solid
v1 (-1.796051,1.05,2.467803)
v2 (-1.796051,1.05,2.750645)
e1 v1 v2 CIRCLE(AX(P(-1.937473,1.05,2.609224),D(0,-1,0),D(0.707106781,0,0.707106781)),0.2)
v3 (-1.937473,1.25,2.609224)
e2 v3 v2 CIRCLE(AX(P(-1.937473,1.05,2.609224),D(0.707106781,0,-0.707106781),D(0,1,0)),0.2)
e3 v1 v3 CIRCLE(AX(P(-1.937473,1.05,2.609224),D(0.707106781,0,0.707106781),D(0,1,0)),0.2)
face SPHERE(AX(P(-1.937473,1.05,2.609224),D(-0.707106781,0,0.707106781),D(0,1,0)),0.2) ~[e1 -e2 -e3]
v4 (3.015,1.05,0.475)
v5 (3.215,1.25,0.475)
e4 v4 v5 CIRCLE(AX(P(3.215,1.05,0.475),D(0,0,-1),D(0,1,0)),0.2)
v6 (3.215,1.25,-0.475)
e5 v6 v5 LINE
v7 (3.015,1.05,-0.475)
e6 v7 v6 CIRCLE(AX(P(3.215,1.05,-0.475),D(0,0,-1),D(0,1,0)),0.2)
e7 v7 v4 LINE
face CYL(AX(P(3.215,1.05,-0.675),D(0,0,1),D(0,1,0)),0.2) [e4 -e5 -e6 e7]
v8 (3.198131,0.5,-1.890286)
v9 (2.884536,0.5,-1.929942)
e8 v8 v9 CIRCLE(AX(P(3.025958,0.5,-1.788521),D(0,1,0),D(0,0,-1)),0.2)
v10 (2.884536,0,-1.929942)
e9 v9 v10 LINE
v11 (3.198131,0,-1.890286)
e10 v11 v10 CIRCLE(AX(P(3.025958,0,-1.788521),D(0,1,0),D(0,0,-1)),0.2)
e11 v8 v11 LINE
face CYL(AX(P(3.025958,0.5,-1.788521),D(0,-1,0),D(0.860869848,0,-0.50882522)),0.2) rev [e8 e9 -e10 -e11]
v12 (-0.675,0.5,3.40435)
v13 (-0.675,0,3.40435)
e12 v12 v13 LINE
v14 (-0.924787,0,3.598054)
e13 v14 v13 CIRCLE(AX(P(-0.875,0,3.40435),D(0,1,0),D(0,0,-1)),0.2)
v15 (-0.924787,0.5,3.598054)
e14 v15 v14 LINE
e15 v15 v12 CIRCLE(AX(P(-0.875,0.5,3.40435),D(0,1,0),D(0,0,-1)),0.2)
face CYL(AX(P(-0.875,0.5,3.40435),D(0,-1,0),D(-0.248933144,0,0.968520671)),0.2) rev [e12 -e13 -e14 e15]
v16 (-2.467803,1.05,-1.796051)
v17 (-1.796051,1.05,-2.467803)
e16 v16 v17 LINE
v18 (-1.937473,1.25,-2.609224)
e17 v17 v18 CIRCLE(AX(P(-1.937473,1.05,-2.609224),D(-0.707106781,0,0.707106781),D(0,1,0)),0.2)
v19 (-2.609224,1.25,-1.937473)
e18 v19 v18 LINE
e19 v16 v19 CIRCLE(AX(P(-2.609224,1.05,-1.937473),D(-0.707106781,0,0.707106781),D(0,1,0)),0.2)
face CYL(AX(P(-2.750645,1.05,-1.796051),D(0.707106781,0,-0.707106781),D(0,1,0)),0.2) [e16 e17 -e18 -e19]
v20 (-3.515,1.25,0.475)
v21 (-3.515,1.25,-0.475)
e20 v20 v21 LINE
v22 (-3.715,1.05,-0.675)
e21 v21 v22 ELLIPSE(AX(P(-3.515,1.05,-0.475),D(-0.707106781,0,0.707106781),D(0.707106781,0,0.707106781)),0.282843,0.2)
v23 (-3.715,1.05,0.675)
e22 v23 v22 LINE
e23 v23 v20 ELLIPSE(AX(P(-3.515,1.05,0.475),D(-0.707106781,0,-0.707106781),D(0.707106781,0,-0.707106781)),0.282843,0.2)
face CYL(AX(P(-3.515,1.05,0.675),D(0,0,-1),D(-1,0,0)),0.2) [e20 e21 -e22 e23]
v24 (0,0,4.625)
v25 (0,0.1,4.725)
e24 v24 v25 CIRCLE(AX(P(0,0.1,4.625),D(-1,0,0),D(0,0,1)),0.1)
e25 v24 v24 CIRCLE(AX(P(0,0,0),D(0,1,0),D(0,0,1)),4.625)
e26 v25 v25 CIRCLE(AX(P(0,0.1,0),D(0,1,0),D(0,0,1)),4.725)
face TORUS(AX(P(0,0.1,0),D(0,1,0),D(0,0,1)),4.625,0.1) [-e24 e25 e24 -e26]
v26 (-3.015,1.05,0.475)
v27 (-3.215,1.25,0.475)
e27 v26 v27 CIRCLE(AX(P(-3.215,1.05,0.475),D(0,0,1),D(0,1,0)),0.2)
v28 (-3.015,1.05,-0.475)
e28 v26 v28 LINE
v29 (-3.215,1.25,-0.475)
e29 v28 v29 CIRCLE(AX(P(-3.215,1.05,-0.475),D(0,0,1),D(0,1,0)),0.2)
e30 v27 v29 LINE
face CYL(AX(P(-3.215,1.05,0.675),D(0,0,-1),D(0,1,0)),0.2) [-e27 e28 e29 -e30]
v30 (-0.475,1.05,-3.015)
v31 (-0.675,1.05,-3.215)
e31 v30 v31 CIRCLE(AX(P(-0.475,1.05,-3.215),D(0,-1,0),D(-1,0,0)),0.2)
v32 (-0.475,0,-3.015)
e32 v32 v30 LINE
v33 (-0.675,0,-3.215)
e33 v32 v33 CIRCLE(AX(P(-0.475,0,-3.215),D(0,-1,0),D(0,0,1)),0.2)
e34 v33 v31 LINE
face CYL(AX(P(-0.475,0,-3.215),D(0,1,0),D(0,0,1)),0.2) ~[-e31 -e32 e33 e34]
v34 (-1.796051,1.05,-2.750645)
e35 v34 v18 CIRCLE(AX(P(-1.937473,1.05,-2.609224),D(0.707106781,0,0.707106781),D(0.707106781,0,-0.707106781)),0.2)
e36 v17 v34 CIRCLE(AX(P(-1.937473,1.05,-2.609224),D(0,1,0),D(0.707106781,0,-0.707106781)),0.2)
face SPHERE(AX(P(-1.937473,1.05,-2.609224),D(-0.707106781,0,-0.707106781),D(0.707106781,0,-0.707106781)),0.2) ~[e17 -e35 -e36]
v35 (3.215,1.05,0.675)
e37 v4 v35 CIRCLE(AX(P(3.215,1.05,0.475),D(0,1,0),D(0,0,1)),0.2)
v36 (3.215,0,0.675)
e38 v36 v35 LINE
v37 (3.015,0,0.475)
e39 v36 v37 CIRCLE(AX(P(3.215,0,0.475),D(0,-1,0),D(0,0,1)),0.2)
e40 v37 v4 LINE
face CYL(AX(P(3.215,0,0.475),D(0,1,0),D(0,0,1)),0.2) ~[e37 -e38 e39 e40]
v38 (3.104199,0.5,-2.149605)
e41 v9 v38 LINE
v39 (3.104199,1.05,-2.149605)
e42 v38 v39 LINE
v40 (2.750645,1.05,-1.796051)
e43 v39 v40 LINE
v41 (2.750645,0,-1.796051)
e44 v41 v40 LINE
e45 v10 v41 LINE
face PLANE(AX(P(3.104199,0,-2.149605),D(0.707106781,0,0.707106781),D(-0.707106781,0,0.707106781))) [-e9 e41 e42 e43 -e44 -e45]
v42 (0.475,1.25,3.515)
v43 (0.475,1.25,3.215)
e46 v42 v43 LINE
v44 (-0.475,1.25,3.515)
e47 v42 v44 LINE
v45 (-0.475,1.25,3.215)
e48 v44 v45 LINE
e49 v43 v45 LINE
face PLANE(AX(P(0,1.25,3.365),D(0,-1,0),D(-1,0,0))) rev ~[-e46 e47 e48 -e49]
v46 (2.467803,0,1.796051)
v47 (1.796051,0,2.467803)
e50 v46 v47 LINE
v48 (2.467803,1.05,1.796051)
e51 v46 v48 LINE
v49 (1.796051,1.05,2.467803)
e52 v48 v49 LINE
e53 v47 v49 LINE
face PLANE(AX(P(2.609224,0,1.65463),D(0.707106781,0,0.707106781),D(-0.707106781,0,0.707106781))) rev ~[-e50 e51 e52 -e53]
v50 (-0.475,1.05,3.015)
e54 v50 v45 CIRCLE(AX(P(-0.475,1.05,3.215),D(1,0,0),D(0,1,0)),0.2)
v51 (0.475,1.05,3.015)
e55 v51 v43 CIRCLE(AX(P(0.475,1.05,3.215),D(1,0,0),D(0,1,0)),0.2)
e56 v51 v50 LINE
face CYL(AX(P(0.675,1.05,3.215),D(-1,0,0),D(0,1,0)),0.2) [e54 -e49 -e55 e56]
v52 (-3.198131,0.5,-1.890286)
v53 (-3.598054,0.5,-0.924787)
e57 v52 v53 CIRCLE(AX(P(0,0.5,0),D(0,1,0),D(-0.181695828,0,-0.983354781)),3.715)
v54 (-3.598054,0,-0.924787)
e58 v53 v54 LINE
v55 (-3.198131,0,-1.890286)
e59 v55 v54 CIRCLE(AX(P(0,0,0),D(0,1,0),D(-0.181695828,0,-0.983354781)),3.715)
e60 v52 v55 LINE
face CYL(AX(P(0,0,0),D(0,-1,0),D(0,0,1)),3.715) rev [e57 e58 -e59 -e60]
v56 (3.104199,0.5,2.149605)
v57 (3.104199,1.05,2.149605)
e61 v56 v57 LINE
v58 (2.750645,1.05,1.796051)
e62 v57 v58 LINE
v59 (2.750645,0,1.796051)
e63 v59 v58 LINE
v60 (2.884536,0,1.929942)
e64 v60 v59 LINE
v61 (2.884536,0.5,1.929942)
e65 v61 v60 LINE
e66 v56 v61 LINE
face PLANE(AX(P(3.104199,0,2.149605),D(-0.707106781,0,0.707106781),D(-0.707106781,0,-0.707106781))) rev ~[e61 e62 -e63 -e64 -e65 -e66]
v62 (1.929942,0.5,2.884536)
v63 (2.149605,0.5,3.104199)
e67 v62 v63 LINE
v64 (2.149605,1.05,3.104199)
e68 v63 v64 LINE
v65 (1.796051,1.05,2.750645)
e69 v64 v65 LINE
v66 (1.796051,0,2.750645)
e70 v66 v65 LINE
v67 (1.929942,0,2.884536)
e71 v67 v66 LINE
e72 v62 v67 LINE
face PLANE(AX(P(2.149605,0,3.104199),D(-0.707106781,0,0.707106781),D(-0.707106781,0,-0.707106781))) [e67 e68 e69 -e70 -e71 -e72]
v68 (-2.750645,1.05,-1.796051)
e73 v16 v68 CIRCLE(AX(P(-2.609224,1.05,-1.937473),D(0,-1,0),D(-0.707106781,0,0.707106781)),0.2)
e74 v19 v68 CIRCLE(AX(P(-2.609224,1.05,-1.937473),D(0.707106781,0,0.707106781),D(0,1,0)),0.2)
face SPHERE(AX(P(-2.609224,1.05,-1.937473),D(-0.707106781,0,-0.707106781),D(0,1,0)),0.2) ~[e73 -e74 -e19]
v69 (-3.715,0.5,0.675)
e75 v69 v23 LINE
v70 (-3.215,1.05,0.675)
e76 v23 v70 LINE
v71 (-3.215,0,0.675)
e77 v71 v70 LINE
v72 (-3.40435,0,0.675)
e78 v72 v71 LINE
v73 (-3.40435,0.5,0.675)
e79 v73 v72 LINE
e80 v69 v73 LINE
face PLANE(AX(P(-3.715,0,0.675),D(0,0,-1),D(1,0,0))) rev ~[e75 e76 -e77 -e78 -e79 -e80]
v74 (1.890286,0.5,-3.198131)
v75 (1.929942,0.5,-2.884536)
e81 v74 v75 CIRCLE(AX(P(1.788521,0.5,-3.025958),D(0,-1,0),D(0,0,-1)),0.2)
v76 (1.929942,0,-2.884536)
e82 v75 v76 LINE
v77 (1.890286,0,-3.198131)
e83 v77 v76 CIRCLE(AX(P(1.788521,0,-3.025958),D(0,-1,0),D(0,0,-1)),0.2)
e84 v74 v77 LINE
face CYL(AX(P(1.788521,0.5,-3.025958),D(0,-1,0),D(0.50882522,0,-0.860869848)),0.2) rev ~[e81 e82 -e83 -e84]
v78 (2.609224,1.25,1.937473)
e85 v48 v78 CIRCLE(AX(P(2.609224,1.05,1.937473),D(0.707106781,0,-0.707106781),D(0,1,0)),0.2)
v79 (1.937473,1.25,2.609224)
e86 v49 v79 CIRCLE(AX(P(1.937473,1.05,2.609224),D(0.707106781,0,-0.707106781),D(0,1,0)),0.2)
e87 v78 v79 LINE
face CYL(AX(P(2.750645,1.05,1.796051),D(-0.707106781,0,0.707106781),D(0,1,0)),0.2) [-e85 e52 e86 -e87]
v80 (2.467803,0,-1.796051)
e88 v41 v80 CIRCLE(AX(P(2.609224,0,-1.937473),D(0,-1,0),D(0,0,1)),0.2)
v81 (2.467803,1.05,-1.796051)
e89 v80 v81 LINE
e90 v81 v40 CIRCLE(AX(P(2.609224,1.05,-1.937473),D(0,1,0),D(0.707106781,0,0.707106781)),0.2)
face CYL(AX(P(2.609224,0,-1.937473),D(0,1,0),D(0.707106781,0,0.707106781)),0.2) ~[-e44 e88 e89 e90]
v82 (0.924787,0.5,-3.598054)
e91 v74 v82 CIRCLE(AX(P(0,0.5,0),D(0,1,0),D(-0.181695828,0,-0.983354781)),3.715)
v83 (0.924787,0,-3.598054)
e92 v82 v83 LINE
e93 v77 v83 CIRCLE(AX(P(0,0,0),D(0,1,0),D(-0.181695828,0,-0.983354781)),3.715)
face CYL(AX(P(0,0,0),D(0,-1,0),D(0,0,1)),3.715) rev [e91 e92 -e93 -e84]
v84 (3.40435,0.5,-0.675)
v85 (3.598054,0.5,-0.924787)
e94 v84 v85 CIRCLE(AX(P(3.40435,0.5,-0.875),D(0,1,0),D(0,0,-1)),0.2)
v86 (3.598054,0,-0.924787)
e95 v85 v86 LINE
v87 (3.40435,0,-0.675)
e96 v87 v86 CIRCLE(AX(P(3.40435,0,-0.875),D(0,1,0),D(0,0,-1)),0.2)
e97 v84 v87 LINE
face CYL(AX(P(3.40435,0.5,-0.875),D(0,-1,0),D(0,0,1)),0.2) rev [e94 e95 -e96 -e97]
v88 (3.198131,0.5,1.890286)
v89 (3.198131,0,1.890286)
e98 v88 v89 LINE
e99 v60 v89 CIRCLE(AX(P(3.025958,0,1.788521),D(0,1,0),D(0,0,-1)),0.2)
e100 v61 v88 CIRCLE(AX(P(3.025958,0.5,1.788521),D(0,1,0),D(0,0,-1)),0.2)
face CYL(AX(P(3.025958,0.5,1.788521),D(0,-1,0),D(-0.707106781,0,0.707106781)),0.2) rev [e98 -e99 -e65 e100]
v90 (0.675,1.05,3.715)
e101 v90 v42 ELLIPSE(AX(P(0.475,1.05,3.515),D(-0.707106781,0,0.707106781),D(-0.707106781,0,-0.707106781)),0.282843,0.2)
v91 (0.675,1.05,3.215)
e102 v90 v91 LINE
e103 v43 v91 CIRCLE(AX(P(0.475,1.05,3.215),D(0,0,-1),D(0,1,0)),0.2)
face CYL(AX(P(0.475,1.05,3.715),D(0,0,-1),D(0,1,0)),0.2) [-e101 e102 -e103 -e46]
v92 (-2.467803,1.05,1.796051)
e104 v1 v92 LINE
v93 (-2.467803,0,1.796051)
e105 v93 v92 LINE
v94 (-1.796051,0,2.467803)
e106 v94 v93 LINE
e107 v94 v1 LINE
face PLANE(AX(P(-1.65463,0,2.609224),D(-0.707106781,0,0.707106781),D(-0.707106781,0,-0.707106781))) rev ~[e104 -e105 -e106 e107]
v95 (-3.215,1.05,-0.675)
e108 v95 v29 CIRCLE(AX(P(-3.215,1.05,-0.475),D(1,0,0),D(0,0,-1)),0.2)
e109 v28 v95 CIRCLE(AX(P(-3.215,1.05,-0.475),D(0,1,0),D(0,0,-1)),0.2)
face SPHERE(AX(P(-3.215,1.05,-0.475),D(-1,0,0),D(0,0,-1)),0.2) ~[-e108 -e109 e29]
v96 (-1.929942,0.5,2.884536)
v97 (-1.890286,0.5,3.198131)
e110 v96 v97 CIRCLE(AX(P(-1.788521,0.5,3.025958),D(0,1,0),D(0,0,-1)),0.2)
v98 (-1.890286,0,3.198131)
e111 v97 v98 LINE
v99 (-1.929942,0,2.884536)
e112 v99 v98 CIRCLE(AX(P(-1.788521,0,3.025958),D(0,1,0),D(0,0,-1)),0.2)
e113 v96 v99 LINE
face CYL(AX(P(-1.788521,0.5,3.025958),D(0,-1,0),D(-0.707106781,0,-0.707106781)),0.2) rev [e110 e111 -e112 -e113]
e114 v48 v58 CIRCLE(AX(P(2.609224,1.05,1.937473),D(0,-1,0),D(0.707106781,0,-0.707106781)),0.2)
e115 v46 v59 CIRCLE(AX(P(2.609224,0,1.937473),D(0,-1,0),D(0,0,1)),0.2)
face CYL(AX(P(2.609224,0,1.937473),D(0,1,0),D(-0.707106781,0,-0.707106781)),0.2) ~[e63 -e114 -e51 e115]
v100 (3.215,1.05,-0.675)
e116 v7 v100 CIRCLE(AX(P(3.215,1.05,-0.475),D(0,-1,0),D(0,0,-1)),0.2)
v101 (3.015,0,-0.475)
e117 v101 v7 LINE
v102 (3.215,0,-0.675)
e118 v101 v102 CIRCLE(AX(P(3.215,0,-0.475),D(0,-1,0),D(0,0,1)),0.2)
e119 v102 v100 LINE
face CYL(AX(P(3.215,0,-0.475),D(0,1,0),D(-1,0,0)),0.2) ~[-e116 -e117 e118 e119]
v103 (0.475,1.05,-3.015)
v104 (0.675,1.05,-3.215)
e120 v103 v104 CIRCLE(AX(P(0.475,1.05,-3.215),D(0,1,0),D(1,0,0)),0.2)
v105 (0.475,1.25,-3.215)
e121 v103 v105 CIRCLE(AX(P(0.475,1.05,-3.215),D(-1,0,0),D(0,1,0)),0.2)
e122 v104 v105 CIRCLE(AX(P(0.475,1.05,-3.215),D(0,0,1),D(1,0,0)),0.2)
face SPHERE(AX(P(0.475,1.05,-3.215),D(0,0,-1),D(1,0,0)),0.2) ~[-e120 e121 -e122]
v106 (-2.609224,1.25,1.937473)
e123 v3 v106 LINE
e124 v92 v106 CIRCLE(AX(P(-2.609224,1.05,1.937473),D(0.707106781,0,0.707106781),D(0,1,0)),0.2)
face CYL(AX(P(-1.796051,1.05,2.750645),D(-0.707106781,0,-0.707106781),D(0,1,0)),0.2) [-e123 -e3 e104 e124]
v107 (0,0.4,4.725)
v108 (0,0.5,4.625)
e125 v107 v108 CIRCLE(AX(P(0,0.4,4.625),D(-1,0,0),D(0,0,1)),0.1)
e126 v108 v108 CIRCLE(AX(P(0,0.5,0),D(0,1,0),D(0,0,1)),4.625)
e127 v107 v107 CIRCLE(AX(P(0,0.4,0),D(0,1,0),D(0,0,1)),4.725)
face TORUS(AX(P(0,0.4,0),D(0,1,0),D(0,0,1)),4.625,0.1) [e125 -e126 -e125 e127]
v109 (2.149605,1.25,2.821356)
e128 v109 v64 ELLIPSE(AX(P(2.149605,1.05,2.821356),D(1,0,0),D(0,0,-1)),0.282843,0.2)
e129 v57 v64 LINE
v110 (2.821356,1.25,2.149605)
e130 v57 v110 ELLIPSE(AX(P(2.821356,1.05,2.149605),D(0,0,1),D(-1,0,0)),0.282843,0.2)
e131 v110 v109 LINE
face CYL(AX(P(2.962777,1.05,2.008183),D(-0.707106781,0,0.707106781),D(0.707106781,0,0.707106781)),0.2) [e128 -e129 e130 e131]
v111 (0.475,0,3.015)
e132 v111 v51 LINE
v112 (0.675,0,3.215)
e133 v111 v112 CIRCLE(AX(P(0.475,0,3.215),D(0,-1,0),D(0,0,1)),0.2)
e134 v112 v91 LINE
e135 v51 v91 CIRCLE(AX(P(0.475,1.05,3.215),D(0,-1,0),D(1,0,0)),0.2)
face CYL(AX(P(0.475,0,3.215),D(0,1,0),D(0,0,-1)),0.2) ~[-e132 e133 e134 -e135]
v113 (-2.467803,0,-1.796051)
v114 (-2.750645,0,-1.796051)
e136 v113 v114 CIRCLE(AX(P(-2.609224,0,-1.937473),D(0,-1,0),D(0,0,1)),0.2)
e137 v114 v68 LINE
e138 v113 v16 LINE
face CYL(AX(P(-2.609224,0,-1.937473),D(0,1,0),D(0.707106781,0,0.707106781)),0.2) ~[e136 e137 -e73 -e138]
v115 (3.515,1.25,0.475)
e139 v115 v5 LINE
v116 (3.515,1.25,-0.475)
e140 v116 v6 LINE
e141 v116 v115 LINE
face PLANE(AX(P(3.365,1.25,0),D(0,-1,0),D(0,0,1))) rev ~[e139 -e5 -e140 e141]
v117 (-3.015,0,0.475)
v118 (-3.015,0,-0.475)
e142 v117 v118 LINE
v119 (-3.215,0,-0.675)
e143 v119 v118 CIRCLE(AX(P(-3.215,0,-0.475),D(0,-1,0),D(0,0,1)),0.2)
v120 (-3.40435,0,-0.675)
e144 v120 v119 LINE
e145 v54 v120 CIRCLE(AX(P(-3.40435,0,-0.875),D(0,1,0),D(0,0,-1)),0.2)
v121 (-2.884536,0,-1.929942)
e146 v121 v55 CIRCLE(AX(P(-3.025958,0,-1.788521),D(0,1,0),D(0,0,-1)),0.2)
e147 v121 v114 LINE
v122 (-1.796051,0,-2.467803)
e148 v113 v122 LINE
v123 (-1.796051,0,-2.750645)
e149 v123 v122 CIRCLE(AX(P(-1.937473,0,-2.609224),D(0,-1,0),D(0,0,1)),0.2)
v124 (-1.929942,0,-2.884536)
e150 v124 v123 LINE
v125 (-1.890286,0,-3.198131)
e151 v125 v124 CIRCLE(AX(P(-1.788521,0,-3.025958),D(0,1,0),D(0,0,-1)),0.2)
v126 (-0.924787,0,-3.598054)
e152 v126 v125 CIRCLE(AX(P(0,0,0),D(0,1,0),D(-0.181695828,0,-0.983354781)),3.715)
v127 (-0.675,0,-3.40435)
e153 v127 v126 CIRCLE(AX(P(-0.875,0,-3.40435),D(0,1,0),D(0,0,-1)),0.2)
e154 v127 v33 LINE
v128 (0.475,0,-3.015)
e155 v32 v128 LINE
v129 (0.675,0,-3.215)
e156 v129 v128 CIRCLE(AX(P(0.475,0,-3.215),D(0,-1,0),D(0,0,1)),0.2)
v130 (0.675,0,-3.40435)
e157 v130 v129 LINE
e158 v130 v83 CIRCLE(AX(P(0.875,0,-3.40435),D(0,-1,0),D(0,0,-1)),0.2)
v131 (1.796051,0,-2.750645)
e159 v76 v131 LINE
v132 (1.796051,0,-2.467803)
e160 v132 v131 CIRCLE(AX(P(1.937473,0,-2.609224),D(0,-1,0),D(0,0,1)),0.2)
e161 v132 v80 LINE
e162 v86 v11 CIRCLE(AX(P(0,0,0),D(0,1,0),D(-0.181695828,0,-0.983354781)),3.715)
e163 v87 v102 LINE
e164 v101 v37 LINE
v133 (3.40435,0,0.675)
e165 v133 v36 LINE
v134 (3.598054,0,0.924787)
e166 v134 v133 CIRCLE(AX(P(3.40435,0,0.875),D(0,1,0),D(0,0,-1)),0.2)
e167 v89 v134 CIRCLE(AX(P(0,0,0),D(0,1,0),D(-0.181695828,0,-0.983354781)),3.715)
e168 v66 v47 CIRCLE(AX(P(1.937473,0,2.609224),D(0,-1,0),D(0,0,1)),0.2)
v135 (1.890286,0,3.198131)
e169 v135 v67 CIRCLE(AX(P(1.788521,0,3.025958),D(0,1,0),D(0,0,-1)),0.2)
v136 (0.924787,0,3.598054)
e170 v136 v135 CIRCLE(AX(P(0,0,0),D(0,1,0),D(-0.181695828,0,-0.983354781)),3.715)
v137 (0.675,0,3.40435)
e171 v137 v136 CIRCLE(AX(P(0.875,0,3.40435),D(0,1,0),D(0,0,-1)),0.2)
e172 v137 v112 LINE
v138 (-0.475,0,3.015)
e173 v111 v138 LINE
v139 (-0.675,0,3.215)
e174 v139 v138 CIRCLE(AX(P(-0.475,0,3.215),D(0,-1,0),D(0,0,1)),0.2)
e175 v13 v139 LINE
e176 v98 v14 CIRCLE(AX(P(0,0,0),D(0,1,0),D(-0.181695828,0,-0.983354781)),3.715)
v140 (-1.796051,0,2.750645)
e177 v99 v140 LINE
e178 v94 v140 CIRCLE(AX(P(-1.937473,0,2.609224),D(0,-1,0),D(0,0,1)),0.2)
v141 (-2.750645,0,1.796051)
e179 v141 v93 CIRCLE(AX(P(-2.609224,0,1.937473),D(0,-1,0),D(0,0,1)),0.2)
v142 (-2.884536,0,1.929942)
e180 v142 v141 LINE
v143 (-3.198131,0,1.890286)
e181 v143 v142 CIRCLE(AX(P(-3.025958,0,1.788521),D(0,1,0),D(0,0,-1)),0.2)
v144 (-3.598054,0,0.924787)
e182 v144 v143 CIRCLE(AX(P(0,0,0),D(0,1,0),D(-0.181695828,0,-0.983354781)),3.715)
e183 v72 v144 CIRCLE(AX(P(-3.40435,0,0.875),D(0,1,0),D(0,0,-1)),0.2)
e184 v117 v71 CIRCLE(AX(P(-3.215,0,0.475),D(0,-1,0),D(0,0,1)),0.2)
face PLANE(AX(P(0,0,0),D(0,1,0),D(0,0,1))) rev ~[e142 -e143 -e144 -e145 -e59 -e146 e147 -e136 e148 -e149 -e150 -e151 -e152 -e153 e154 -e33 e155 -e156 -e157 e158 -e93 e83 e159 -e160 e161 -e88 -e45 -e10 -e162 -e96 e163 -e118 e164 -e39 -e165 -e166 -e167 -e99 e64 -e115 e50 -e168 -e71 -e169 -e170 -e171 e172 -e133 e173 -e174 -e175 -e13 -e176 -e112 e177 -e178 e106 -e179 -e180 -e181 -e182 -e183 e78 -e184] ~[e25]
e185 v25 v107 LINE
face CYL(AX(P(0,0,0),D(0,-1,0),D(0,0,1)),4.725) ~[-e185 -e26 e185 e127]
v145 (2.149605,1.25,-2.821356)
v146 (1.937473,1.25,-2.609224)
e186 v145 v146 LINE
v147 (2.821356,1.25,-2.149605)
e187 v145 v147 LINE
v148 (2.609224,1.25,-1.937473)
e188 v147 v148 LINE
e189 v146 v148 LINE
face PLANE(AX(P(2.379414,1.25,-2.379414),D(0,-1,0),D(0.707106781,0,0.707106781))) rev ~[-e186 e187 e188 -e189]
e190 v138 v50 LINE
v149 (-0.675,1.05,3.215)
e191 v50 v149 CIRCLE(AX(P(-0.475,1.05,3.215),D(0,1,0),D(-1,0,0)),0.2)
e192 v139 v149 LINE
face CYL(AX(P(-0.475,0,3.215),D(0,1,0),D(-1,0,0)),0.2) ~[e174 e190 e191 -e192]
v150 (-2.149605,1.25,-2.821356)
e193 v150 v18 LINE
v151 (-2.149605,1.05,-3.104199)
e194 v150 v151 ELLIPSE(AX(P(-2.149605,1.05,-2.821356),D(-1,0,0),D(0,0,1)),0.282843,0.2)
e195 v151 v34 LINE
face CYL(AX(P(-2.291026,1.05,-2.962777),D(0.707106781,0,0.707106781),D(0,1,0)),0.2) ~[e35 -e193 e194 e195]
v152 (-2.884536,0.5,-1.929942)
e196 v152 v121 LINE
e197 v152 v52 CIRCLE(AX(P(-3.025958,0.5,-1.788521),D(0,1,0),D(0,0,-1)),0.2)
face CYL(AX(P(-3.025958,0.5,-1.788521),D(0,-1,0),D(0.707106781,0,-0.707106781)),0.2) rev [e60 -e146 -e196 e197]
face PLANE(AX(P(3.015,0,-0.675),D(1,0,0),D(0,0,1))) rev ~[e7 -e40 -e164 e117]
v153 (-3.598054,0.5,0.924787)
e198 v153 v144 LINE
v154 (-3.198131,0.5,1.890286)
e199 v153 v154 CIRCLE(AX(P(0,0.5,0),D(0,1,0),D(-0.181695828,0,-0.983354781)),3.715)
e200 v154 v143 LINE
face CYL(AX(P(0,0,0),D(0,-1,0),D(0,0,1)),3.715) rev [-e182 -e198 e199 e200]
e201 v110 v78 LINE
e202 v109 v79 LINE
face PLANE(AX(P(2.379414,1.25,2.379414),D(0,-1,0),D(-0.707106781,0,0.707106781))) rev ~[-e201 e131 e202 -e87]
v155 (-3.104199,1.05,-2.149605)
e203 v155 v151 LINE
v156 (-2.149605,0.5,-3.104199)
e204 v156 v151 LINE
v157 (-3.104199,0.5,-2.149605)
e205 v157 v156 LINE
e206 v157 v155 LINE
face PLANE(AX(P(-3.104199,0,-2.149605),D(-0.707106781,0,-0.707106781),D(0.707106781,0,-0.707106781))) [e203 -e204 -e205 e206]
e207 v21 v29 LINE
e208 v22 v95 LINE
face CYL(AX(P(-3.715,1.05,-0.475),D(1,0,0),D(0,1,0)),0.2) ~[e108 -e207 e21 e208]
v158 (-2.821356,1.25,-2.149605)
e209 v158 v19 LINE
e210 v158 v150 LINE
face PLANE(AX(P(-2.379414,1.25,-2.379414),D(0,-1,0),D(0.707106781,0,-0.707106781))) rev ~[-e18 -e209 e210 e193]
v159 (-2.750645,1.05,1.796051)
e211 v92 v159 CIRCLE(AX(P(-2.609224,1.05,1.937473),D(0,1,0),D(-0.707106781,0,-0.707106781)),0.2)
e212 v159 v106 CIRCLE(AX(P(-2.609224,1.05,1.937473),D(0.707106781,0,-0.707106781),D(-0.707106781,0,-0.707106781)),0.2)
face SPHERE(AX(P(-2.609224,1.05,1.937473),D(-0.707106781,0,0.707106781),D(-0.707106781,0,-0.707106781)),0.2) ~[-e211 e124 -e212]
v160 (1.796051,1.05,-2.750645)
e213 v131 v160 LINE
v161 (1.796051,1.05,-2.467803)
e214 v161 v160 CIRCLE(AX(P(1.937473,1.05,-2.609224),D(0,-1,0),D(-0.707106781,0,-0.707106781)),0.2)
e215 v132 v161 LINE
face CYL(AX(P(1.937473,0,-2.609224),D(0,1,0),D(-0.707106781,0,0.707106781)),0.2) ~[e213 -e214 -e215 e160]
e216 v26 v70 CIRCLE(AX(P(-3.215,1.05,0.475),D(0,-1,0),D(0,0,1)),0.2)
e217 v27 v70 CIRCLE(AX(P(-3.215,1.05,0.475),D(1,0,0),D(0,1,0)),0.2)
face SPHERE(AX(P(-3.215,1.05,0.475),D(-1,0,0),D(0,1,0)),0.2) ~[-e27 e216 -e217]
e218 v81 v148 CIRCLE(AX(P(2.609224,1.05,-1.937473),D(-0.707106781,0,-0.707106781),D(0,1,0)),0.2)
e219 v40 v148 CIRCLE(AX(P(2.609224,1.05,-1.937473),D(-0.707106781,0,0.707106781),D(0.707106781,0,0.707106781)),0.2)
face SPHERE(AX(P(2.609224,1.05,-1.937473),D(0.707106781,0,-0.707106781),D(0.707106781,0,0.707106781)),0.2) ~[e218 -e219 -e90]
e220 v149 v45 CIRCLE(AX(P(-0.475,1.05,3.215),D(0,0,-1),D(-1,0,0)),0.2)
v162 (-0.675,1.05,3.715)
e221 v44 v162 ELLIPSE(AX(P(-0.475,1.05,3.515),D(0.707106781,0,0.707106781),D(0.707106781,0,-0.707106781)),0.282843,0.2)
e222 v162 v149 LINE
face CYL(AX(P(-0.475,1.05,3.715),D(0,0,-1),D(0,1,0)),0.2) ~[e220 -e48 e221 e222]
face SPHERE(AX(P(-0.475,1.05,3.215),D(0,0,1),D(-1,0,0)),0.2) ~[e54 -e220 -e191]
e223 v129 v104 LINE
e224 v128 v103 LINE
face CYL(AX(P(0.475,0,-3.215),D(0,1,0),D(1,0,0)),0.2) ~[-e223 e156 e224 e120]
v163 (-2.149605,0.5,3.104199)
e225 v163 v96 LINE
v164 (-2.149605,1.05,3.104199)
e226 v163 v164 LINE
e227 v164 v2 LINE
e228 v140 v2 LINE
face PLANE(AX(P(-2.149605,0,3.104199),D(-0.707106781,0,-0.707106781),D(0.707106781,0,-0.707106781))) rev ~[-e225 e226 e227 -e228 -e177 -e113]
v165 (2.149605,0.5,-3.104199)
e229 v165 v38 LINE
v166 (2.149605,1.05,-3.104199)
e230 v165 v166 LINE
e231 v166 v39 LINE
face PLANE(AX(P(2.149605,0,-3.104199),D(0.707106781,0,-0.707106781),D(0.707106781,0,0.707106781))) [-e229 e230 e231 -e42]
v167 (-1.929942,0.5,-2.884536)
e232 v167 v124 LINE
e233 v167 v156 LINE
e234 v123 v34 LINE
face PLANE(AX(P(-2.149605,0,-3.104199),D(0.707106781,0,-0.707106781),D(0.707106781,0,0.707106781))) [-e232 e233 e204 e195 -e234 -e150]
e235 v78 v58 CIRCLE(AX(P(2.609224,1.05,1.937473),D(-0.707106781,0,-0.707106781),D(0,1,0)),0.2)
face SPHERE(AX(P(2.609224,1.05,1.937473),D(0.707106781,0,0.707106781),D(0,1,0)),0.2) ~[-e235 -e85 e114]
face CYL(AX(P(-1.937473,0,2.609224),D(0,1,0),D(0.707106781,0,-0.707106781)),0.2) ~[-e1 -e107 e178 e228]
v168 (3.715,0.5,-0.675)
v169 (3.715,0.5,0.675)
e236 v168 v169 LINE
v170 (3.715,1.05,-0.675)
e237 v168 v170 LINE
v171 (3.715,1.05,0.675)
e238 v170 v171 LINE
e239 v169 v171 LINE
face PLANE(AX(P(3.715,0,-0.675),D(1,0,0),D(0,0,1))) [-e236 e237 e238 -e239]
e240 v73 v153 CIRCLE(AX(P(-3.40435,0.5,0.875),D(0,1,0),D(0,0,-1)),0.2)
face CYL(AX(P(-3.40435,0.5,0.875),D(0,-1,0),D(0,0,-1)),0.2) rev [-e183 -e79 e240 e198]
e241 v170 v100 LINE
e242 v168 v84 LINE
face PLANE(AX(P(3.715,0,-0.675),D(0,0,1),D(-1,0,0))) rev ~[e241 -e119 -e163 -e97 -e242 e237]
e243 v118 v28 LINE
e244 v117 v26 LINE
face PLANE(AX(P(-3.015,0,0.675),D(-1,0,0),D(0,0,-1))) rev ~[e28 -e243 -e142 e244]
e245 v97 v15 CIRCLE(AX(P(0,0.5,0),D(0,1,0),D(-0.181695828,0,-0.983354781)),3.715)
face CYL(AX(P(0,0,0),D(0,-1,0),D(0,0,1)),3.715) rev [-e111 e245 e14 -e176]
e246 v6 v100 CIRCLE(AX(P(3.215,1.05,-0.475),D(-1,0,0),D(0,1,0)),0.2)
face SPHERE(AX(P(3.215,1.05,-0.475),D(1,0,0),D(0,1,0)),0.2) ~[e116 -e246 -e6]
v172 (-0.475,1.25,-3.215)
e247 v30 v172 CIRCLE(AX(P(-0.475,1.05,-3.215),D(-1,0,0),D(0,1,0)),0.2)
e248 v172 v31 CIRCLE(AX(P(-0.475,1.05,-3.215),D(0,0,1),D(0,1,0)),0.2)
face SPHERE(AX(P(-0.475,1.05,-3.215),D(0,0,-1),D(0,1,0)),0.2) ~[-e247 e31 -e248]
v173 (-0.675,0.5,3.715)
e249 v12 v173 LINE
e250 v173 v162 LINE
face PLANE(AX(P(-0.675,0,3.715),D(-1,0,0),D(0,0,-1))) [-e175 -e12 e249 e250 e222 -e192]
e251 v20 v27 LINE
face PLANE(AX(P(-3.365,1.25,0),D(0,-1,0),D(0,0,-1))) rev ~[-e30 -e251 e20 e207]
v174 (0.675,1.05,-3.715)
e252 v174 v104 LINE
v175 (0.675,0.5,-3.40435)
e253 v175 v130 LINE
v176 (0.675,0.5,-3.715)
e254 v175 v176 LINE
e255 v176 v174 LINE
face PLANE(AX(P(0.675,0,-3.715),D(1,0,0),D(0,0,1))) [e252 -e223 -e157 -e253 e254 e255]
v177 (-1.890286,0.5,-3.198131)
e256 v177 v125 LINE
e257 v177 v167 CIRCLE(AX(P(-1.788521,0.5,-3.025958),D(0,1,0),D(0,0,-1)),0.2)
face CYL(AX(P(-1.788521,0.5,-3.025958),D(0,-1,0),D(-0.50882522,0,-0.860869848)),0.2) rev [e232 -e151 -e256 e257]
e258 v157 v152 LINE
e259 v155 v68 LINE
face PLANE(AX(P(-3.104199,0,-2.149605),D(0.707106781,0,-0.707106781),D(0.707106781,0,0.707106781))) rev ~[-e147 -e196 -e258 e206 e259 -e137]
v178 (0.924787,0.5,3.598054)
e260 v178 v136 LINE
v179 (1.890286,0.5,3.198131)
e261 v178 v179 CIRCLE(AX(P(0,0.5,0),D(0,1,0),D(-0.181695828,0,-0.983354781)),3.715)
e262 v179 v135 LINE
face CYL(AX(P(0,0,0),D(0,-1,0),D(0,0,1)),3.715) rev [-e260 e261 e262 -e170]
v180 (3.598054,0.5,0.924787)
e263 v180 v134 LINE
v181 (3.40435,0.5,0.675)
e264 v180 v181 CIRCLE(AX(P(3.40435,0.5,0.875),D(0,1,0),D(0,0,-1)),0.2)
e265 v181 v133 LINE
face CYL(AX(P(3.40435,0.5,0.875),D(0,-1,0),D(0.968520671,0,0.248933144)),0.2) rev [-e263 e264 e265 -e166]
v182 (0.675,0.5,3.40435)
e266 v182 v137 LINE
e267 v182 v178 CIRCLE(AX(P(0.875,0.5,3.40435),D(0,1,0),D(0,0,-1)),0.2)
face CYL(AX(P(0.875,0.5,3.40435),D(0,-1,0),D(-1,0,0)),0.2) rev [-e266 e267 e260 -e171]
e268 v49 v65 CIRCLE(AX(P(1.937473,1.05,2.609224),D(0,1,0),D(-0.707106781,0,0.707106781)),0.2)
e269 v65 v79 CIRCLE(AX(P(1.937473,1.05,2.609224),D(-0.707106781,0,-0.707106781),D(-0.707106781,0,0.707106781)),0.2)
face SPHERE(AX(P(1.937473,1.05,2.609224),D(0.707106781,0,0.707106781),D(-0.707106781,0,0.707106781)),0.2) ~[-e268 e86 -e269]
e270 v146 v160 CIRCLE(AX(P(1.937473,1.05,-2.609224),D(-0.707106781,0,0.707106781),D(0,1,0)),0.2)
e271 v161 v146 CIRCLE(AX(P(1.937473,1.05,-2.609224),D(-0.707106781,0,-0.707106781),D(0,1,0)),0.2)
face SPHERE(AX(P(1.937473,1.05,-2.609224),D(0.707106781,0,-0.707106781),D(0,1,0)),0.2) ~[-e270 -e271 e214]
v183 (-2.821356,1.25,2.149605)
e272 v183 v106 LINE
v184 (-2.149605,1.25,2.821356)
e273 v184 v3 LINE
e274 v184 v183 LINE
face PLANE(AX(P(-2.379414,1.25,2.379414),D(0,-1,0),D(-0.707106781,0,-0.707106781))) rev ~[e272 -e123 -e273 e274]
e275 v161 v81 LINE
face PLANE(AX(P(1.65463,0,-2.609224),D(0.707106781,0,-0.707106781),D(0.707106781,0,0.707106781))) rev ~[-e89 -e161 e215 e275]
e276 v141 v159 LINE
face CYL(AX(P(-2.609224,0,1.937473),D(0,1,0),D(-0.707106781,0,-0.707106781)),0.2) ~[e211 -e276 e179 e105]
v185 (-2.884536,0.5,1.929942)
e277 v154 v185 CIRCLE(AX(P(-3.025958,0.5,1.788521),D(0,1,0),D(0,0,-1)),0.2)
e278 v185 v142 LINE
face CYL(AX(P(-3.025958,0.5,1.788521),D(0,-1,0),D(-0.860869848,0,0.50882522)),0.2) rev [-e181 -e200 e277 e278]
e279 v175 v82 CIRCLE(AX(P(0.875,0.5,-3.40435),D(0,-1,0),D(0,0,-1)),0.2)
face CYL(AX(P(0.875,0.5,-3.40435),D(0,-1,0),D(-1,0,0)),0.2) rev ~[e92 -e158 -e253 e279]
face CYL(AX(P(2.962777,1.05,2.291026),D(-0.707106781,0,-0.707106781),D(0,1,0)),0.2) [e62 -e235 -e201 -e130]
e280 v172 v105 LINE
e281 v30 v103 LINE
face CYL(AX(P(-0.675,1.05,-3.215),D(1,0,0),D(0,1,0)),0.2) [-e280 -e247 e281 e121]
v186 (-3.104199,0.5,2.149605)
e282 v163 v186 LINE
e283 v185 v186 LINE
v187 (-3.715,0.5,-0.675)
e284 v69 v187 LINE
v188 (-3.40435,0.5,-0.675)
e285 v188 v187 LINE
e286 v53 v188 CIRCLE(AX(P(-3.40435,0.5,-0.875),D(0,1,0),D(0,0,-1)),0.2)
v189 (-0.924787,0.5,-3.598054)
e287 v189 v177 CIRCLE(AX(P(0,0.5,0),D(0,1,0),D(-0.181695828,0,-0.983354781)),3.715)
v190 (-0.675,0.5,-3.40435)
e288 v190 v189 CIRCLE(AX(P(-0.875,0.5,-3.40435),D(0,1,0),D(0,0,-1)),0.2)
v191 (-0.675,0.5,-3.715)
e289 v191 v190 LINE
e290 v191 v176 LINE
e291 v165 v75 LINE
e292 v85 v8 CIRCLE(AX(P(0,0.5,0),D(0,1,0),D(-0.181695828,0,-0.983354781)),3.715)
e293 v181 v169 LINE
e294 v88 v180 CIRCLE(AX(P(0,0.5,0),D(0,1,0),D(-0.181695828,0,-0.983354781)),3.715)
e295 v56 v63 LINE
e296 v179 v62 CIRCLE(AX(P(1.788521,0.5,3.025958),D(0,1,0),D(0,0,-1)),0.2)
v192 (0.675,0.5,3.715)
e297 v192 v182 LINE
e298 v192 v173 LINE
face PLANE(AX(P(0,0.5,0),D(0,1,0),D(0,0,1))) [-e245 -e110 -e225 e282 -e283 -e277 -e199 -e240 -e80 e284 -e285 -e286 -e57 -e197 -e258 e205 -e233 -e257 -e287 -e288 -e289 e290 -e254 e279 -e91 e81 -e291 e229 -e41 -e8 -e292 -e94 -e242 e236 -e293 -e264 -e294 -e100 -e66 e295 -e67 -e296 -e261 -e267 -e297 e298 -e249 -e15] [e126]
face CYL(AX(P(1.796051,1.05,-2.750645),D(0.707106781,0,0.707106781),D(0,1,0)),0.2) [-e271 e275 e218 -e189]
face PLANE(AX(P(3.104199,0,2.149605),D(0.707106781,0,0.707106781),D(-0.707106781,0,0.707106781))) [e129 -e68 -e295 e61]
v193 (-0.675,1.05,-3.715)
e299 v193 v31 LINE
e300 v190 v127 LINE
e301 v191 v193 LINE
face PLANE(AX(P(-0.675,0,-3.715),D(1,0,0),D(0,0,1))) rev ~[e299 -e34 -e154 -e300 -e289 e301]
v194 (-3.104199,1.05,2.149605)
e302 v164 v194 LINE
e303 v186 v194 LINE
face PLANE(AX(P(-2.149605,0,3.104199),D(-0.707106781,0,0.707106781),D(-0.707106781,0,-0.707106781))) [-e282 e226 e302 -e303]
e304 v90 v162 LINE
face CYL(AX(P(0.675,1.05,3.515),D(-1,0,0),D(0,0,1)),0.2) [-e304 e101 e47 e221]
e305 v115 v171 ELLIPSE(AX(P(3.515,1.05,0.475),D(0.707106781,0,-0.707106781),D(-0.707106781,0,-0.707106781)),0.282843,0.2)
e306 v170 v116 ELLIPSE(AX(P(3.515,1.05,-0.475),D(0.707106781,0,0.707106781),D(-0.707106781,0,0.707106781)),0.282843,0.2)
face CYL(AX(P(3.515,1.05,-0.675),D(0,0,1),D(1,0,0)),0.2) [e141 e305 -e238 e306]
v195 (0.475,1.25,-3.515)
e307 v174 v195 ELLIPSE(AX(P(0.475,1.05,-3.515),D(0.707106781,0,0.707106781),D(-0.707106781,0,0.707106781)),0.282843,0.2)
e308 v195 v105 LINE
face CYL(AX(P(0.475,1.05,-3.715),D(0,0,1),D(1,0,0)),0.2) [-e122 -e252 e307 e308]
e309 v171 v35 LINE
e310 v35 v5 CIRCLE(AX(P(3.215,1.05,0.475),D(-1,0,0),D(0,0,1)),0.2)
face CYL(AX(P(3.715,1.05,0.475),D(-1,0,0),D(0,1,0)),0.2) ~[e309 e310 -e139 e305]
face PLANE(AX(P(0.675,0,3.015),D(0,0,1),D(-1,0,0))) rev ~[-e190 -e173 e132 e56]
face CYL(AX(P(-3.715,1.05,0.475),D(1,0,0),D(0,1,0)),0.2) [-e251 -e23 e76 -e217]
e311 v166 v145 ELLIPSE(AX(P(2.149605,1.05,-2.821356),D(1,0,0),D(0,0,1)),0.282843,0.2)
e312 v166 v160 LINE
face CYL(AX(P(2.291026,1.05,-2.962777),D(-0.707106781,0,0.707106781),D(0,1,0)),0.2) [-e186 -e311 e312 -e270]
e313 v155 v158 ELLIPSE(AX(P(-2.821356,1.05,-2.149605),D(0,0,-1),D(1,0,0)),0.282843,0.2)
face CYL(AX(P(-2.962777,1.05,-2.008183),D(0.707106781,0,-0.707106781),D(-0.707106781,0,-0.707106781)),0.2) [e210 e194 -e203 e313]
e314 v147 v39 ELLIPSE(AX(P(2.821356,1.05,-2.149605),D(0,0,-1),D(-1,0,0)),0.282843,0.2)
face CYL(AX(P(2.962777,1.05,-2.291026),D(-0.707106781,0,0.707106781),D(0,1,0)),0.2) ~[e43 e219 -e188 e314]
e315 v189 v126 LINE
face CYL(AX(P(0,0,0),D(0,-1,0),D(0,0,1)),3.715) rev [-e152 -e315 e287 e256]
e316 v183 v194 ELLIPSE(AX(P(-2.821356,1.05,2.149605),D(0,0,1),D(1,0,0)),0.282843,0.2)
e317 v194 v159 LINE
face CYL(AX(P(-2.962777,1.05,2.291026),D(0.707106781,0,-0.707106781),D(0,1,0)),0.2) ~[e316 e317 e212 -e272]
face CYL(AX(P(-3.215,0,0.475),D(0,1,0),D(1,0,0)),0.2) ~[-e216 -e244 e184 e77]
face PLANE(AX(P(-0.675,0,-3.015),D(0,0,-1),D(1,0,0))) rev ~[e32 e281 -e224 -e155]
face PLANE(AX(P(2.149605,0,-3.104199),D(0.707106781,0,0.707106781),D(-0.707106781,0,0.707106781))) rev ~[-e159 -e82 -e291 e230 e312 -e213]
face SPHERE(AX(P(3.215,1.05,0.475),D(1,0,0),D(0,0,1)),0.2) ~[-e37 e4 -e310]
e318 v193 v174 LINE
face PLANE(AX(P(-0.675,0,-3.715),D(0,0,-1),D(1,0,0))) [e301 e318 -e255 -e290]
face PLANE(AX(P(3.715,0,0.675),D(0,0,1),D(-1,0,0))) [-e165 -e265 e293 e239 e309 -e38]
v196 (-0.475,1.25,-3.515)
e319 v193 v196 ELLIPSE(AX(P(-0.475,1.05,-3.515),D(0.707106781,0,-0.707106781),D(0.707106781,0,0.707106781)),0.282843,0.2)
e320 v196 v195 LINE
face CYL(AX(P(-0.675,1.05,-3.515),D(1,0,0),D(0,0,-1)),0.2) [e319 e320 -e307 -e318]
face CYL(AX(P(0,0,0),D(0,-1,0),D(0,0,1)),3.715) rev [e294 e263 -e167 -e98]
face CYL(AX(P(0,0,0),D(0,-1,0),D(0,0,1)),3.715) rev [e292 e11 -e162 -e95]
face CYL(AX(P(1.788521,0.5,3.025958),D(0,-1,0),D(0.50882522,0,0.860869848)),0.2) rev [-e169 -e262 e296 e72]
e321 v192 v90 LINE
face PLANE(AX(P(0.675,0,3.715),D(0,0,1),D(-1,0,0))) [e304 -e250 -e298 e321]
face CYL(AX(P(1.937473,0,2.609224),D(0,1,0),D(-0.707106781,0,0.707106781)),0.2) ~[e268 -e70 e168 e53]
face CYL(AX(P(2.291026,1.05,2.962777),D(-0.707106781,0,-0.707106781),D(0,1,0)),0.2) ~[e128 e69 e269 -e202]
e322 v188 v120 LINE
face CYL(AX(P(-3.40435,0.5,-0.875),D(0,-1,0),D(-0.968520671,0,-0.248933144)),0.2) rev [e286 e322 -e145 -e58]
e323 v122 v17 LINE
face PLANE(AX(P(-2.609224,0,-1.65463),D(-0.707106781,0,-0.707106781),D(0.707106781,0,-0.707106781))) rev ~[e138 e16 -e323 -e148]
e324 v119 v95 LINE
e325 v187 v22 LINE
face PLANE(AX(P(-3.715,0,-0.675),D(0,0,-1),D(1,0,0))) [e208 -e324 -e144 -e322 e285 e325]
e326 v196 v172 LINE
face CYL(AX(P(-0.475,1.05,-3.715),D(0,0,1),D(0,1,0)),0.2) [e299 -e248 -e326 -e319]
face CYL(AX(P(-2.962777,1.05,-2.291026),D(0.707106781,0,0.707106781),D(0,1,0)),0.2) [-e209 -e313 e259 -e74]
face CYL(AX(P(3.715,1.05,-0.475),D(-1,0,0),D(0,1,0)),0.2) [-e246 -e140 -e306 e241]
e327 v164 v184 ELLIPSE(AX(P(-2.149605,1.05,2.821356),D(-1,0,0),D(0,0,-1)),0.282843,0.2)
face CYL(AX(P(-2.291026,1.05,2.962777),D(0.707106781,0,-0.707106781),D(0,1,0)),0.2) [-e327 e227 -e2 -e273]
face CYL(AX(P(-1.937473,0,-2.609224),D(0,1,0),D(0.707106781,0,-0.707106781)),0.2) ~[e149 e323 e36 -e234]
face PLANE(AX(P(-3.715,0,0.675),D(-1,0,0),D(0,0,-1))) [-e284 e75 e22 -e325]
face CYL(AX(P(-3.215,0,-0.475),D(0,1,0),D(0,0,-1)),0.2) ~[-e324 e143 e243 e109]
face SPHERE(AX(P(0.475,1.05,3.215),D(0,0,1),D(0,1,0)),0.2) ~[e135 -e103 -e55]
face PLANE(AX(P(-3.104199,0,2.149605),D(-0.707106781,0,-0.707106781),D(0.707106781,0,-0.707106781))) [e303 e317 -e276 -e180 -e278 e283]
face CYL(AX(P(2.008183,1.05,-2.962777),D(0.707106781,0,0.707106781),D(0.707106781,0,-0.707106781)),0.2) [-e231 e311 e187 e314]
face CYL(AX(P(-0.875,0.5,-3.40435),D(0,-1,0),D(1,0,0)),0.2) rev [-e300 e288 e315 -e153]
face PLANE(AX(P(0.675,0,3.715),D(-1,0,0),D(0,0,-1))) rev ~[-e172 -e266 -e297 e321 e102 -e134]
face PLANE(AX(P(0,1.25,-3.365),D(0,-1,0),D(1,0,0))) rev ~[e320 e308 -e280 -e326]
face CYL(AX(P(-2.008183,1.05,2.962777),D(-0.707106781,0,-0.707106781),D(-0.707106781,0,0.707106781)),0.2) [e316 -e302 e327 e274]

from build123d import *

# Parameters (mm, degrees)
SKETCH2_R                = 4.725
SKETCH2_R_2              = 3.715
BOSS_EXTRUDE1_DEPTH      = 0.5
SKETCH3_W                = 1.35
SKETCH3_H                = 0.7
BOSS_EXTRUDE2_DEPTH      = 1.25
FILLET1_R                = 0.2
CIRPATTERN1_COUNT        = 8
FILLET1_OF_CIRPATTERN1_R = 0.2
FILLET2_R                = 0.1


with BuildPart() as part:
    # Sketch2 → Boss-Extrude1 (new body)
    with BuildSketch(Plane(origin=(0, 0, 0), x_dir=(1, 0, 0), z_dir=(0, 1, 0))):
        Circle(SKETCH2_R)
        Circle(SKETCH2_R_2, mode=Mode.SUBTRACT)
    extrude(amount=BOSS_EXTRUDE1_DEPTH)

    # Sketch3 → Boss-Extrude2 (add)
    with BuildSketch(Plane.XZ):
        with Locations((0, -3.365)):
            Rectangle(SKETCH3_W, SKETCH3_H)
    boss_extrude2 = extrude(amount=-BOSS_EXTRUDE2_DEPTH)

    # Fillet1
    fillet1_edges = [part.edges().sort_by_distance(p)[0] for p in [
        (0, 1.25, -3.015),
        (-0.675, 1.25, -3.365),
        (0, 1.25, -3.715),
        (0.675, 1.25, -3.365),
        (-0.675, 0.25, -3.653163013),
        (0.675, 0.25, -3.653163013),
        (0.675, 0.625, -3.015),
        (-0.675, 0.625, -3.015),
    ]]
    fillet(fillet1_edges, radius=FILLET1_R)

    # CirPattern1: Boss-Extrude2 ×8 about axis
    cirpattern1_axis = Axis((0, 0.5, 0), (0, -1, 0))
    for i in range(1, CIRPATTERN1_COUNT):
        add(boss_extrude2.rotate(cirpattern1_axis, i * 360 / CIRPATTERN1_COUNT))

    # Fillet1 of CirPattern1
    fillet1_of_cirpattern1_edges = [part.edges().sort_by_distance(p)[0] for p in [
        (2.131926945, 1.25, -2.131926945),
        (1.902117241, 1.25, -2.856711396),
        (2.626901692, 1.25, -2.626901692),
        (2.856711396, 1.25, -1.902117241),
        (2.105879262, 0.25, -3.060473417),
        (3.060473417, 0.25, -2.105879262),
        (2.609224023, 0.625, -1.654629868),
        (1.654629868, 0.625, -2.609224023),
        (3.015, 1.25, 0),
        (3.365, 1.25, -0.675),
        (3.715, 1.25, 0),
        (3.365, 1.25, 0.675),
        (3.653163013, 0.25, -0.675),
        (3.653163013, 0.25, 0.675),
        (3.015, 0.625, 0.675),
        (3.015, 0.625, -0.675),
        (2.131926945, 1.25, 2.131926945),
        (2.856711396, 1.25, 1.902117241),
        (2.626901692, 1.25, 2.626901692),
        (1.902117241, 1.25, 2.856711396),
        (3.060473417, 0.25, 2.105879262),
        (2.105879262, 0.25, 3.060473417),
        (1.654629868, 0.625, 2.609224023),
        (2.609224023, 0.625, 1.654629868),
        (0, 1.25, 3.015),
        (0.675, 1.25, 3.365),
        (0, 1.25, 3.715),
        (-0.675, 1.25, 3.365),
        (0.675, 0.25, 3.653163013),
        (-0.675, 0.25, 3.653163013),
        (-0.675, 0.625, 3.015),
        (0.675, 0.625, 3.015),
        (-2.131926945, 1.25, 2.131926945),
        (-1.902117241, 1.25, 2.856711396),
        (-2.626901692, 1.25, 2.626901692),
        (-2.856711396, 1.25, 1.902117241),
        (-2.105879262, 0.25, 3.060473417),
        (-3.060473417, 0.25, 2.105879262),
        (-2.609224023, 0.625, 1.654629868),
        (-1.654629868, 0.625, 2.609224023),
        (-3.015, 1.25, 0),
        (-3.365, 1.25, 0.675),
        (-3.715, 1.25, 0),
        (-3.365, 1.25, -0.675),
        (-3.653163013, 0.25, 0.675),
        (-3.653163013, 0.25, -0.675),
        (-3.015, 0.625, -0.675),
        (-3.015, 0.625, 0.675),
        (-2.131926945, 1.25, -2.131926945),
        (-2.856711396, 1.25, -1.902117241),
        (-2.626901692, 1.25, -2.626901692),
        (-1.902117241, 1.25, -2.856711396),
        (-3.060473417, 0.25, -2.105879262),
        (-2.105879262, 0.25, -3.060473417),
        (-1.654629868, 0.625, -2.609224023),
        (-2.609224023, 0.625, -1.654629868),
    ]]
    fillet(fillet1_of_cirpattern1_edges, radius=FILLET1_OF_CIRPATTERN1_R)

    # Fillet2
    fillet2_edges = [part.edges().sort_by_distance(p)[0] for p in [
        (-4.725, 0, 0),
        (-4.725, 0.5, 0),
    ]]
    fillet(fillet2_edges, radius=FILLET2_R)


solid = part.part
